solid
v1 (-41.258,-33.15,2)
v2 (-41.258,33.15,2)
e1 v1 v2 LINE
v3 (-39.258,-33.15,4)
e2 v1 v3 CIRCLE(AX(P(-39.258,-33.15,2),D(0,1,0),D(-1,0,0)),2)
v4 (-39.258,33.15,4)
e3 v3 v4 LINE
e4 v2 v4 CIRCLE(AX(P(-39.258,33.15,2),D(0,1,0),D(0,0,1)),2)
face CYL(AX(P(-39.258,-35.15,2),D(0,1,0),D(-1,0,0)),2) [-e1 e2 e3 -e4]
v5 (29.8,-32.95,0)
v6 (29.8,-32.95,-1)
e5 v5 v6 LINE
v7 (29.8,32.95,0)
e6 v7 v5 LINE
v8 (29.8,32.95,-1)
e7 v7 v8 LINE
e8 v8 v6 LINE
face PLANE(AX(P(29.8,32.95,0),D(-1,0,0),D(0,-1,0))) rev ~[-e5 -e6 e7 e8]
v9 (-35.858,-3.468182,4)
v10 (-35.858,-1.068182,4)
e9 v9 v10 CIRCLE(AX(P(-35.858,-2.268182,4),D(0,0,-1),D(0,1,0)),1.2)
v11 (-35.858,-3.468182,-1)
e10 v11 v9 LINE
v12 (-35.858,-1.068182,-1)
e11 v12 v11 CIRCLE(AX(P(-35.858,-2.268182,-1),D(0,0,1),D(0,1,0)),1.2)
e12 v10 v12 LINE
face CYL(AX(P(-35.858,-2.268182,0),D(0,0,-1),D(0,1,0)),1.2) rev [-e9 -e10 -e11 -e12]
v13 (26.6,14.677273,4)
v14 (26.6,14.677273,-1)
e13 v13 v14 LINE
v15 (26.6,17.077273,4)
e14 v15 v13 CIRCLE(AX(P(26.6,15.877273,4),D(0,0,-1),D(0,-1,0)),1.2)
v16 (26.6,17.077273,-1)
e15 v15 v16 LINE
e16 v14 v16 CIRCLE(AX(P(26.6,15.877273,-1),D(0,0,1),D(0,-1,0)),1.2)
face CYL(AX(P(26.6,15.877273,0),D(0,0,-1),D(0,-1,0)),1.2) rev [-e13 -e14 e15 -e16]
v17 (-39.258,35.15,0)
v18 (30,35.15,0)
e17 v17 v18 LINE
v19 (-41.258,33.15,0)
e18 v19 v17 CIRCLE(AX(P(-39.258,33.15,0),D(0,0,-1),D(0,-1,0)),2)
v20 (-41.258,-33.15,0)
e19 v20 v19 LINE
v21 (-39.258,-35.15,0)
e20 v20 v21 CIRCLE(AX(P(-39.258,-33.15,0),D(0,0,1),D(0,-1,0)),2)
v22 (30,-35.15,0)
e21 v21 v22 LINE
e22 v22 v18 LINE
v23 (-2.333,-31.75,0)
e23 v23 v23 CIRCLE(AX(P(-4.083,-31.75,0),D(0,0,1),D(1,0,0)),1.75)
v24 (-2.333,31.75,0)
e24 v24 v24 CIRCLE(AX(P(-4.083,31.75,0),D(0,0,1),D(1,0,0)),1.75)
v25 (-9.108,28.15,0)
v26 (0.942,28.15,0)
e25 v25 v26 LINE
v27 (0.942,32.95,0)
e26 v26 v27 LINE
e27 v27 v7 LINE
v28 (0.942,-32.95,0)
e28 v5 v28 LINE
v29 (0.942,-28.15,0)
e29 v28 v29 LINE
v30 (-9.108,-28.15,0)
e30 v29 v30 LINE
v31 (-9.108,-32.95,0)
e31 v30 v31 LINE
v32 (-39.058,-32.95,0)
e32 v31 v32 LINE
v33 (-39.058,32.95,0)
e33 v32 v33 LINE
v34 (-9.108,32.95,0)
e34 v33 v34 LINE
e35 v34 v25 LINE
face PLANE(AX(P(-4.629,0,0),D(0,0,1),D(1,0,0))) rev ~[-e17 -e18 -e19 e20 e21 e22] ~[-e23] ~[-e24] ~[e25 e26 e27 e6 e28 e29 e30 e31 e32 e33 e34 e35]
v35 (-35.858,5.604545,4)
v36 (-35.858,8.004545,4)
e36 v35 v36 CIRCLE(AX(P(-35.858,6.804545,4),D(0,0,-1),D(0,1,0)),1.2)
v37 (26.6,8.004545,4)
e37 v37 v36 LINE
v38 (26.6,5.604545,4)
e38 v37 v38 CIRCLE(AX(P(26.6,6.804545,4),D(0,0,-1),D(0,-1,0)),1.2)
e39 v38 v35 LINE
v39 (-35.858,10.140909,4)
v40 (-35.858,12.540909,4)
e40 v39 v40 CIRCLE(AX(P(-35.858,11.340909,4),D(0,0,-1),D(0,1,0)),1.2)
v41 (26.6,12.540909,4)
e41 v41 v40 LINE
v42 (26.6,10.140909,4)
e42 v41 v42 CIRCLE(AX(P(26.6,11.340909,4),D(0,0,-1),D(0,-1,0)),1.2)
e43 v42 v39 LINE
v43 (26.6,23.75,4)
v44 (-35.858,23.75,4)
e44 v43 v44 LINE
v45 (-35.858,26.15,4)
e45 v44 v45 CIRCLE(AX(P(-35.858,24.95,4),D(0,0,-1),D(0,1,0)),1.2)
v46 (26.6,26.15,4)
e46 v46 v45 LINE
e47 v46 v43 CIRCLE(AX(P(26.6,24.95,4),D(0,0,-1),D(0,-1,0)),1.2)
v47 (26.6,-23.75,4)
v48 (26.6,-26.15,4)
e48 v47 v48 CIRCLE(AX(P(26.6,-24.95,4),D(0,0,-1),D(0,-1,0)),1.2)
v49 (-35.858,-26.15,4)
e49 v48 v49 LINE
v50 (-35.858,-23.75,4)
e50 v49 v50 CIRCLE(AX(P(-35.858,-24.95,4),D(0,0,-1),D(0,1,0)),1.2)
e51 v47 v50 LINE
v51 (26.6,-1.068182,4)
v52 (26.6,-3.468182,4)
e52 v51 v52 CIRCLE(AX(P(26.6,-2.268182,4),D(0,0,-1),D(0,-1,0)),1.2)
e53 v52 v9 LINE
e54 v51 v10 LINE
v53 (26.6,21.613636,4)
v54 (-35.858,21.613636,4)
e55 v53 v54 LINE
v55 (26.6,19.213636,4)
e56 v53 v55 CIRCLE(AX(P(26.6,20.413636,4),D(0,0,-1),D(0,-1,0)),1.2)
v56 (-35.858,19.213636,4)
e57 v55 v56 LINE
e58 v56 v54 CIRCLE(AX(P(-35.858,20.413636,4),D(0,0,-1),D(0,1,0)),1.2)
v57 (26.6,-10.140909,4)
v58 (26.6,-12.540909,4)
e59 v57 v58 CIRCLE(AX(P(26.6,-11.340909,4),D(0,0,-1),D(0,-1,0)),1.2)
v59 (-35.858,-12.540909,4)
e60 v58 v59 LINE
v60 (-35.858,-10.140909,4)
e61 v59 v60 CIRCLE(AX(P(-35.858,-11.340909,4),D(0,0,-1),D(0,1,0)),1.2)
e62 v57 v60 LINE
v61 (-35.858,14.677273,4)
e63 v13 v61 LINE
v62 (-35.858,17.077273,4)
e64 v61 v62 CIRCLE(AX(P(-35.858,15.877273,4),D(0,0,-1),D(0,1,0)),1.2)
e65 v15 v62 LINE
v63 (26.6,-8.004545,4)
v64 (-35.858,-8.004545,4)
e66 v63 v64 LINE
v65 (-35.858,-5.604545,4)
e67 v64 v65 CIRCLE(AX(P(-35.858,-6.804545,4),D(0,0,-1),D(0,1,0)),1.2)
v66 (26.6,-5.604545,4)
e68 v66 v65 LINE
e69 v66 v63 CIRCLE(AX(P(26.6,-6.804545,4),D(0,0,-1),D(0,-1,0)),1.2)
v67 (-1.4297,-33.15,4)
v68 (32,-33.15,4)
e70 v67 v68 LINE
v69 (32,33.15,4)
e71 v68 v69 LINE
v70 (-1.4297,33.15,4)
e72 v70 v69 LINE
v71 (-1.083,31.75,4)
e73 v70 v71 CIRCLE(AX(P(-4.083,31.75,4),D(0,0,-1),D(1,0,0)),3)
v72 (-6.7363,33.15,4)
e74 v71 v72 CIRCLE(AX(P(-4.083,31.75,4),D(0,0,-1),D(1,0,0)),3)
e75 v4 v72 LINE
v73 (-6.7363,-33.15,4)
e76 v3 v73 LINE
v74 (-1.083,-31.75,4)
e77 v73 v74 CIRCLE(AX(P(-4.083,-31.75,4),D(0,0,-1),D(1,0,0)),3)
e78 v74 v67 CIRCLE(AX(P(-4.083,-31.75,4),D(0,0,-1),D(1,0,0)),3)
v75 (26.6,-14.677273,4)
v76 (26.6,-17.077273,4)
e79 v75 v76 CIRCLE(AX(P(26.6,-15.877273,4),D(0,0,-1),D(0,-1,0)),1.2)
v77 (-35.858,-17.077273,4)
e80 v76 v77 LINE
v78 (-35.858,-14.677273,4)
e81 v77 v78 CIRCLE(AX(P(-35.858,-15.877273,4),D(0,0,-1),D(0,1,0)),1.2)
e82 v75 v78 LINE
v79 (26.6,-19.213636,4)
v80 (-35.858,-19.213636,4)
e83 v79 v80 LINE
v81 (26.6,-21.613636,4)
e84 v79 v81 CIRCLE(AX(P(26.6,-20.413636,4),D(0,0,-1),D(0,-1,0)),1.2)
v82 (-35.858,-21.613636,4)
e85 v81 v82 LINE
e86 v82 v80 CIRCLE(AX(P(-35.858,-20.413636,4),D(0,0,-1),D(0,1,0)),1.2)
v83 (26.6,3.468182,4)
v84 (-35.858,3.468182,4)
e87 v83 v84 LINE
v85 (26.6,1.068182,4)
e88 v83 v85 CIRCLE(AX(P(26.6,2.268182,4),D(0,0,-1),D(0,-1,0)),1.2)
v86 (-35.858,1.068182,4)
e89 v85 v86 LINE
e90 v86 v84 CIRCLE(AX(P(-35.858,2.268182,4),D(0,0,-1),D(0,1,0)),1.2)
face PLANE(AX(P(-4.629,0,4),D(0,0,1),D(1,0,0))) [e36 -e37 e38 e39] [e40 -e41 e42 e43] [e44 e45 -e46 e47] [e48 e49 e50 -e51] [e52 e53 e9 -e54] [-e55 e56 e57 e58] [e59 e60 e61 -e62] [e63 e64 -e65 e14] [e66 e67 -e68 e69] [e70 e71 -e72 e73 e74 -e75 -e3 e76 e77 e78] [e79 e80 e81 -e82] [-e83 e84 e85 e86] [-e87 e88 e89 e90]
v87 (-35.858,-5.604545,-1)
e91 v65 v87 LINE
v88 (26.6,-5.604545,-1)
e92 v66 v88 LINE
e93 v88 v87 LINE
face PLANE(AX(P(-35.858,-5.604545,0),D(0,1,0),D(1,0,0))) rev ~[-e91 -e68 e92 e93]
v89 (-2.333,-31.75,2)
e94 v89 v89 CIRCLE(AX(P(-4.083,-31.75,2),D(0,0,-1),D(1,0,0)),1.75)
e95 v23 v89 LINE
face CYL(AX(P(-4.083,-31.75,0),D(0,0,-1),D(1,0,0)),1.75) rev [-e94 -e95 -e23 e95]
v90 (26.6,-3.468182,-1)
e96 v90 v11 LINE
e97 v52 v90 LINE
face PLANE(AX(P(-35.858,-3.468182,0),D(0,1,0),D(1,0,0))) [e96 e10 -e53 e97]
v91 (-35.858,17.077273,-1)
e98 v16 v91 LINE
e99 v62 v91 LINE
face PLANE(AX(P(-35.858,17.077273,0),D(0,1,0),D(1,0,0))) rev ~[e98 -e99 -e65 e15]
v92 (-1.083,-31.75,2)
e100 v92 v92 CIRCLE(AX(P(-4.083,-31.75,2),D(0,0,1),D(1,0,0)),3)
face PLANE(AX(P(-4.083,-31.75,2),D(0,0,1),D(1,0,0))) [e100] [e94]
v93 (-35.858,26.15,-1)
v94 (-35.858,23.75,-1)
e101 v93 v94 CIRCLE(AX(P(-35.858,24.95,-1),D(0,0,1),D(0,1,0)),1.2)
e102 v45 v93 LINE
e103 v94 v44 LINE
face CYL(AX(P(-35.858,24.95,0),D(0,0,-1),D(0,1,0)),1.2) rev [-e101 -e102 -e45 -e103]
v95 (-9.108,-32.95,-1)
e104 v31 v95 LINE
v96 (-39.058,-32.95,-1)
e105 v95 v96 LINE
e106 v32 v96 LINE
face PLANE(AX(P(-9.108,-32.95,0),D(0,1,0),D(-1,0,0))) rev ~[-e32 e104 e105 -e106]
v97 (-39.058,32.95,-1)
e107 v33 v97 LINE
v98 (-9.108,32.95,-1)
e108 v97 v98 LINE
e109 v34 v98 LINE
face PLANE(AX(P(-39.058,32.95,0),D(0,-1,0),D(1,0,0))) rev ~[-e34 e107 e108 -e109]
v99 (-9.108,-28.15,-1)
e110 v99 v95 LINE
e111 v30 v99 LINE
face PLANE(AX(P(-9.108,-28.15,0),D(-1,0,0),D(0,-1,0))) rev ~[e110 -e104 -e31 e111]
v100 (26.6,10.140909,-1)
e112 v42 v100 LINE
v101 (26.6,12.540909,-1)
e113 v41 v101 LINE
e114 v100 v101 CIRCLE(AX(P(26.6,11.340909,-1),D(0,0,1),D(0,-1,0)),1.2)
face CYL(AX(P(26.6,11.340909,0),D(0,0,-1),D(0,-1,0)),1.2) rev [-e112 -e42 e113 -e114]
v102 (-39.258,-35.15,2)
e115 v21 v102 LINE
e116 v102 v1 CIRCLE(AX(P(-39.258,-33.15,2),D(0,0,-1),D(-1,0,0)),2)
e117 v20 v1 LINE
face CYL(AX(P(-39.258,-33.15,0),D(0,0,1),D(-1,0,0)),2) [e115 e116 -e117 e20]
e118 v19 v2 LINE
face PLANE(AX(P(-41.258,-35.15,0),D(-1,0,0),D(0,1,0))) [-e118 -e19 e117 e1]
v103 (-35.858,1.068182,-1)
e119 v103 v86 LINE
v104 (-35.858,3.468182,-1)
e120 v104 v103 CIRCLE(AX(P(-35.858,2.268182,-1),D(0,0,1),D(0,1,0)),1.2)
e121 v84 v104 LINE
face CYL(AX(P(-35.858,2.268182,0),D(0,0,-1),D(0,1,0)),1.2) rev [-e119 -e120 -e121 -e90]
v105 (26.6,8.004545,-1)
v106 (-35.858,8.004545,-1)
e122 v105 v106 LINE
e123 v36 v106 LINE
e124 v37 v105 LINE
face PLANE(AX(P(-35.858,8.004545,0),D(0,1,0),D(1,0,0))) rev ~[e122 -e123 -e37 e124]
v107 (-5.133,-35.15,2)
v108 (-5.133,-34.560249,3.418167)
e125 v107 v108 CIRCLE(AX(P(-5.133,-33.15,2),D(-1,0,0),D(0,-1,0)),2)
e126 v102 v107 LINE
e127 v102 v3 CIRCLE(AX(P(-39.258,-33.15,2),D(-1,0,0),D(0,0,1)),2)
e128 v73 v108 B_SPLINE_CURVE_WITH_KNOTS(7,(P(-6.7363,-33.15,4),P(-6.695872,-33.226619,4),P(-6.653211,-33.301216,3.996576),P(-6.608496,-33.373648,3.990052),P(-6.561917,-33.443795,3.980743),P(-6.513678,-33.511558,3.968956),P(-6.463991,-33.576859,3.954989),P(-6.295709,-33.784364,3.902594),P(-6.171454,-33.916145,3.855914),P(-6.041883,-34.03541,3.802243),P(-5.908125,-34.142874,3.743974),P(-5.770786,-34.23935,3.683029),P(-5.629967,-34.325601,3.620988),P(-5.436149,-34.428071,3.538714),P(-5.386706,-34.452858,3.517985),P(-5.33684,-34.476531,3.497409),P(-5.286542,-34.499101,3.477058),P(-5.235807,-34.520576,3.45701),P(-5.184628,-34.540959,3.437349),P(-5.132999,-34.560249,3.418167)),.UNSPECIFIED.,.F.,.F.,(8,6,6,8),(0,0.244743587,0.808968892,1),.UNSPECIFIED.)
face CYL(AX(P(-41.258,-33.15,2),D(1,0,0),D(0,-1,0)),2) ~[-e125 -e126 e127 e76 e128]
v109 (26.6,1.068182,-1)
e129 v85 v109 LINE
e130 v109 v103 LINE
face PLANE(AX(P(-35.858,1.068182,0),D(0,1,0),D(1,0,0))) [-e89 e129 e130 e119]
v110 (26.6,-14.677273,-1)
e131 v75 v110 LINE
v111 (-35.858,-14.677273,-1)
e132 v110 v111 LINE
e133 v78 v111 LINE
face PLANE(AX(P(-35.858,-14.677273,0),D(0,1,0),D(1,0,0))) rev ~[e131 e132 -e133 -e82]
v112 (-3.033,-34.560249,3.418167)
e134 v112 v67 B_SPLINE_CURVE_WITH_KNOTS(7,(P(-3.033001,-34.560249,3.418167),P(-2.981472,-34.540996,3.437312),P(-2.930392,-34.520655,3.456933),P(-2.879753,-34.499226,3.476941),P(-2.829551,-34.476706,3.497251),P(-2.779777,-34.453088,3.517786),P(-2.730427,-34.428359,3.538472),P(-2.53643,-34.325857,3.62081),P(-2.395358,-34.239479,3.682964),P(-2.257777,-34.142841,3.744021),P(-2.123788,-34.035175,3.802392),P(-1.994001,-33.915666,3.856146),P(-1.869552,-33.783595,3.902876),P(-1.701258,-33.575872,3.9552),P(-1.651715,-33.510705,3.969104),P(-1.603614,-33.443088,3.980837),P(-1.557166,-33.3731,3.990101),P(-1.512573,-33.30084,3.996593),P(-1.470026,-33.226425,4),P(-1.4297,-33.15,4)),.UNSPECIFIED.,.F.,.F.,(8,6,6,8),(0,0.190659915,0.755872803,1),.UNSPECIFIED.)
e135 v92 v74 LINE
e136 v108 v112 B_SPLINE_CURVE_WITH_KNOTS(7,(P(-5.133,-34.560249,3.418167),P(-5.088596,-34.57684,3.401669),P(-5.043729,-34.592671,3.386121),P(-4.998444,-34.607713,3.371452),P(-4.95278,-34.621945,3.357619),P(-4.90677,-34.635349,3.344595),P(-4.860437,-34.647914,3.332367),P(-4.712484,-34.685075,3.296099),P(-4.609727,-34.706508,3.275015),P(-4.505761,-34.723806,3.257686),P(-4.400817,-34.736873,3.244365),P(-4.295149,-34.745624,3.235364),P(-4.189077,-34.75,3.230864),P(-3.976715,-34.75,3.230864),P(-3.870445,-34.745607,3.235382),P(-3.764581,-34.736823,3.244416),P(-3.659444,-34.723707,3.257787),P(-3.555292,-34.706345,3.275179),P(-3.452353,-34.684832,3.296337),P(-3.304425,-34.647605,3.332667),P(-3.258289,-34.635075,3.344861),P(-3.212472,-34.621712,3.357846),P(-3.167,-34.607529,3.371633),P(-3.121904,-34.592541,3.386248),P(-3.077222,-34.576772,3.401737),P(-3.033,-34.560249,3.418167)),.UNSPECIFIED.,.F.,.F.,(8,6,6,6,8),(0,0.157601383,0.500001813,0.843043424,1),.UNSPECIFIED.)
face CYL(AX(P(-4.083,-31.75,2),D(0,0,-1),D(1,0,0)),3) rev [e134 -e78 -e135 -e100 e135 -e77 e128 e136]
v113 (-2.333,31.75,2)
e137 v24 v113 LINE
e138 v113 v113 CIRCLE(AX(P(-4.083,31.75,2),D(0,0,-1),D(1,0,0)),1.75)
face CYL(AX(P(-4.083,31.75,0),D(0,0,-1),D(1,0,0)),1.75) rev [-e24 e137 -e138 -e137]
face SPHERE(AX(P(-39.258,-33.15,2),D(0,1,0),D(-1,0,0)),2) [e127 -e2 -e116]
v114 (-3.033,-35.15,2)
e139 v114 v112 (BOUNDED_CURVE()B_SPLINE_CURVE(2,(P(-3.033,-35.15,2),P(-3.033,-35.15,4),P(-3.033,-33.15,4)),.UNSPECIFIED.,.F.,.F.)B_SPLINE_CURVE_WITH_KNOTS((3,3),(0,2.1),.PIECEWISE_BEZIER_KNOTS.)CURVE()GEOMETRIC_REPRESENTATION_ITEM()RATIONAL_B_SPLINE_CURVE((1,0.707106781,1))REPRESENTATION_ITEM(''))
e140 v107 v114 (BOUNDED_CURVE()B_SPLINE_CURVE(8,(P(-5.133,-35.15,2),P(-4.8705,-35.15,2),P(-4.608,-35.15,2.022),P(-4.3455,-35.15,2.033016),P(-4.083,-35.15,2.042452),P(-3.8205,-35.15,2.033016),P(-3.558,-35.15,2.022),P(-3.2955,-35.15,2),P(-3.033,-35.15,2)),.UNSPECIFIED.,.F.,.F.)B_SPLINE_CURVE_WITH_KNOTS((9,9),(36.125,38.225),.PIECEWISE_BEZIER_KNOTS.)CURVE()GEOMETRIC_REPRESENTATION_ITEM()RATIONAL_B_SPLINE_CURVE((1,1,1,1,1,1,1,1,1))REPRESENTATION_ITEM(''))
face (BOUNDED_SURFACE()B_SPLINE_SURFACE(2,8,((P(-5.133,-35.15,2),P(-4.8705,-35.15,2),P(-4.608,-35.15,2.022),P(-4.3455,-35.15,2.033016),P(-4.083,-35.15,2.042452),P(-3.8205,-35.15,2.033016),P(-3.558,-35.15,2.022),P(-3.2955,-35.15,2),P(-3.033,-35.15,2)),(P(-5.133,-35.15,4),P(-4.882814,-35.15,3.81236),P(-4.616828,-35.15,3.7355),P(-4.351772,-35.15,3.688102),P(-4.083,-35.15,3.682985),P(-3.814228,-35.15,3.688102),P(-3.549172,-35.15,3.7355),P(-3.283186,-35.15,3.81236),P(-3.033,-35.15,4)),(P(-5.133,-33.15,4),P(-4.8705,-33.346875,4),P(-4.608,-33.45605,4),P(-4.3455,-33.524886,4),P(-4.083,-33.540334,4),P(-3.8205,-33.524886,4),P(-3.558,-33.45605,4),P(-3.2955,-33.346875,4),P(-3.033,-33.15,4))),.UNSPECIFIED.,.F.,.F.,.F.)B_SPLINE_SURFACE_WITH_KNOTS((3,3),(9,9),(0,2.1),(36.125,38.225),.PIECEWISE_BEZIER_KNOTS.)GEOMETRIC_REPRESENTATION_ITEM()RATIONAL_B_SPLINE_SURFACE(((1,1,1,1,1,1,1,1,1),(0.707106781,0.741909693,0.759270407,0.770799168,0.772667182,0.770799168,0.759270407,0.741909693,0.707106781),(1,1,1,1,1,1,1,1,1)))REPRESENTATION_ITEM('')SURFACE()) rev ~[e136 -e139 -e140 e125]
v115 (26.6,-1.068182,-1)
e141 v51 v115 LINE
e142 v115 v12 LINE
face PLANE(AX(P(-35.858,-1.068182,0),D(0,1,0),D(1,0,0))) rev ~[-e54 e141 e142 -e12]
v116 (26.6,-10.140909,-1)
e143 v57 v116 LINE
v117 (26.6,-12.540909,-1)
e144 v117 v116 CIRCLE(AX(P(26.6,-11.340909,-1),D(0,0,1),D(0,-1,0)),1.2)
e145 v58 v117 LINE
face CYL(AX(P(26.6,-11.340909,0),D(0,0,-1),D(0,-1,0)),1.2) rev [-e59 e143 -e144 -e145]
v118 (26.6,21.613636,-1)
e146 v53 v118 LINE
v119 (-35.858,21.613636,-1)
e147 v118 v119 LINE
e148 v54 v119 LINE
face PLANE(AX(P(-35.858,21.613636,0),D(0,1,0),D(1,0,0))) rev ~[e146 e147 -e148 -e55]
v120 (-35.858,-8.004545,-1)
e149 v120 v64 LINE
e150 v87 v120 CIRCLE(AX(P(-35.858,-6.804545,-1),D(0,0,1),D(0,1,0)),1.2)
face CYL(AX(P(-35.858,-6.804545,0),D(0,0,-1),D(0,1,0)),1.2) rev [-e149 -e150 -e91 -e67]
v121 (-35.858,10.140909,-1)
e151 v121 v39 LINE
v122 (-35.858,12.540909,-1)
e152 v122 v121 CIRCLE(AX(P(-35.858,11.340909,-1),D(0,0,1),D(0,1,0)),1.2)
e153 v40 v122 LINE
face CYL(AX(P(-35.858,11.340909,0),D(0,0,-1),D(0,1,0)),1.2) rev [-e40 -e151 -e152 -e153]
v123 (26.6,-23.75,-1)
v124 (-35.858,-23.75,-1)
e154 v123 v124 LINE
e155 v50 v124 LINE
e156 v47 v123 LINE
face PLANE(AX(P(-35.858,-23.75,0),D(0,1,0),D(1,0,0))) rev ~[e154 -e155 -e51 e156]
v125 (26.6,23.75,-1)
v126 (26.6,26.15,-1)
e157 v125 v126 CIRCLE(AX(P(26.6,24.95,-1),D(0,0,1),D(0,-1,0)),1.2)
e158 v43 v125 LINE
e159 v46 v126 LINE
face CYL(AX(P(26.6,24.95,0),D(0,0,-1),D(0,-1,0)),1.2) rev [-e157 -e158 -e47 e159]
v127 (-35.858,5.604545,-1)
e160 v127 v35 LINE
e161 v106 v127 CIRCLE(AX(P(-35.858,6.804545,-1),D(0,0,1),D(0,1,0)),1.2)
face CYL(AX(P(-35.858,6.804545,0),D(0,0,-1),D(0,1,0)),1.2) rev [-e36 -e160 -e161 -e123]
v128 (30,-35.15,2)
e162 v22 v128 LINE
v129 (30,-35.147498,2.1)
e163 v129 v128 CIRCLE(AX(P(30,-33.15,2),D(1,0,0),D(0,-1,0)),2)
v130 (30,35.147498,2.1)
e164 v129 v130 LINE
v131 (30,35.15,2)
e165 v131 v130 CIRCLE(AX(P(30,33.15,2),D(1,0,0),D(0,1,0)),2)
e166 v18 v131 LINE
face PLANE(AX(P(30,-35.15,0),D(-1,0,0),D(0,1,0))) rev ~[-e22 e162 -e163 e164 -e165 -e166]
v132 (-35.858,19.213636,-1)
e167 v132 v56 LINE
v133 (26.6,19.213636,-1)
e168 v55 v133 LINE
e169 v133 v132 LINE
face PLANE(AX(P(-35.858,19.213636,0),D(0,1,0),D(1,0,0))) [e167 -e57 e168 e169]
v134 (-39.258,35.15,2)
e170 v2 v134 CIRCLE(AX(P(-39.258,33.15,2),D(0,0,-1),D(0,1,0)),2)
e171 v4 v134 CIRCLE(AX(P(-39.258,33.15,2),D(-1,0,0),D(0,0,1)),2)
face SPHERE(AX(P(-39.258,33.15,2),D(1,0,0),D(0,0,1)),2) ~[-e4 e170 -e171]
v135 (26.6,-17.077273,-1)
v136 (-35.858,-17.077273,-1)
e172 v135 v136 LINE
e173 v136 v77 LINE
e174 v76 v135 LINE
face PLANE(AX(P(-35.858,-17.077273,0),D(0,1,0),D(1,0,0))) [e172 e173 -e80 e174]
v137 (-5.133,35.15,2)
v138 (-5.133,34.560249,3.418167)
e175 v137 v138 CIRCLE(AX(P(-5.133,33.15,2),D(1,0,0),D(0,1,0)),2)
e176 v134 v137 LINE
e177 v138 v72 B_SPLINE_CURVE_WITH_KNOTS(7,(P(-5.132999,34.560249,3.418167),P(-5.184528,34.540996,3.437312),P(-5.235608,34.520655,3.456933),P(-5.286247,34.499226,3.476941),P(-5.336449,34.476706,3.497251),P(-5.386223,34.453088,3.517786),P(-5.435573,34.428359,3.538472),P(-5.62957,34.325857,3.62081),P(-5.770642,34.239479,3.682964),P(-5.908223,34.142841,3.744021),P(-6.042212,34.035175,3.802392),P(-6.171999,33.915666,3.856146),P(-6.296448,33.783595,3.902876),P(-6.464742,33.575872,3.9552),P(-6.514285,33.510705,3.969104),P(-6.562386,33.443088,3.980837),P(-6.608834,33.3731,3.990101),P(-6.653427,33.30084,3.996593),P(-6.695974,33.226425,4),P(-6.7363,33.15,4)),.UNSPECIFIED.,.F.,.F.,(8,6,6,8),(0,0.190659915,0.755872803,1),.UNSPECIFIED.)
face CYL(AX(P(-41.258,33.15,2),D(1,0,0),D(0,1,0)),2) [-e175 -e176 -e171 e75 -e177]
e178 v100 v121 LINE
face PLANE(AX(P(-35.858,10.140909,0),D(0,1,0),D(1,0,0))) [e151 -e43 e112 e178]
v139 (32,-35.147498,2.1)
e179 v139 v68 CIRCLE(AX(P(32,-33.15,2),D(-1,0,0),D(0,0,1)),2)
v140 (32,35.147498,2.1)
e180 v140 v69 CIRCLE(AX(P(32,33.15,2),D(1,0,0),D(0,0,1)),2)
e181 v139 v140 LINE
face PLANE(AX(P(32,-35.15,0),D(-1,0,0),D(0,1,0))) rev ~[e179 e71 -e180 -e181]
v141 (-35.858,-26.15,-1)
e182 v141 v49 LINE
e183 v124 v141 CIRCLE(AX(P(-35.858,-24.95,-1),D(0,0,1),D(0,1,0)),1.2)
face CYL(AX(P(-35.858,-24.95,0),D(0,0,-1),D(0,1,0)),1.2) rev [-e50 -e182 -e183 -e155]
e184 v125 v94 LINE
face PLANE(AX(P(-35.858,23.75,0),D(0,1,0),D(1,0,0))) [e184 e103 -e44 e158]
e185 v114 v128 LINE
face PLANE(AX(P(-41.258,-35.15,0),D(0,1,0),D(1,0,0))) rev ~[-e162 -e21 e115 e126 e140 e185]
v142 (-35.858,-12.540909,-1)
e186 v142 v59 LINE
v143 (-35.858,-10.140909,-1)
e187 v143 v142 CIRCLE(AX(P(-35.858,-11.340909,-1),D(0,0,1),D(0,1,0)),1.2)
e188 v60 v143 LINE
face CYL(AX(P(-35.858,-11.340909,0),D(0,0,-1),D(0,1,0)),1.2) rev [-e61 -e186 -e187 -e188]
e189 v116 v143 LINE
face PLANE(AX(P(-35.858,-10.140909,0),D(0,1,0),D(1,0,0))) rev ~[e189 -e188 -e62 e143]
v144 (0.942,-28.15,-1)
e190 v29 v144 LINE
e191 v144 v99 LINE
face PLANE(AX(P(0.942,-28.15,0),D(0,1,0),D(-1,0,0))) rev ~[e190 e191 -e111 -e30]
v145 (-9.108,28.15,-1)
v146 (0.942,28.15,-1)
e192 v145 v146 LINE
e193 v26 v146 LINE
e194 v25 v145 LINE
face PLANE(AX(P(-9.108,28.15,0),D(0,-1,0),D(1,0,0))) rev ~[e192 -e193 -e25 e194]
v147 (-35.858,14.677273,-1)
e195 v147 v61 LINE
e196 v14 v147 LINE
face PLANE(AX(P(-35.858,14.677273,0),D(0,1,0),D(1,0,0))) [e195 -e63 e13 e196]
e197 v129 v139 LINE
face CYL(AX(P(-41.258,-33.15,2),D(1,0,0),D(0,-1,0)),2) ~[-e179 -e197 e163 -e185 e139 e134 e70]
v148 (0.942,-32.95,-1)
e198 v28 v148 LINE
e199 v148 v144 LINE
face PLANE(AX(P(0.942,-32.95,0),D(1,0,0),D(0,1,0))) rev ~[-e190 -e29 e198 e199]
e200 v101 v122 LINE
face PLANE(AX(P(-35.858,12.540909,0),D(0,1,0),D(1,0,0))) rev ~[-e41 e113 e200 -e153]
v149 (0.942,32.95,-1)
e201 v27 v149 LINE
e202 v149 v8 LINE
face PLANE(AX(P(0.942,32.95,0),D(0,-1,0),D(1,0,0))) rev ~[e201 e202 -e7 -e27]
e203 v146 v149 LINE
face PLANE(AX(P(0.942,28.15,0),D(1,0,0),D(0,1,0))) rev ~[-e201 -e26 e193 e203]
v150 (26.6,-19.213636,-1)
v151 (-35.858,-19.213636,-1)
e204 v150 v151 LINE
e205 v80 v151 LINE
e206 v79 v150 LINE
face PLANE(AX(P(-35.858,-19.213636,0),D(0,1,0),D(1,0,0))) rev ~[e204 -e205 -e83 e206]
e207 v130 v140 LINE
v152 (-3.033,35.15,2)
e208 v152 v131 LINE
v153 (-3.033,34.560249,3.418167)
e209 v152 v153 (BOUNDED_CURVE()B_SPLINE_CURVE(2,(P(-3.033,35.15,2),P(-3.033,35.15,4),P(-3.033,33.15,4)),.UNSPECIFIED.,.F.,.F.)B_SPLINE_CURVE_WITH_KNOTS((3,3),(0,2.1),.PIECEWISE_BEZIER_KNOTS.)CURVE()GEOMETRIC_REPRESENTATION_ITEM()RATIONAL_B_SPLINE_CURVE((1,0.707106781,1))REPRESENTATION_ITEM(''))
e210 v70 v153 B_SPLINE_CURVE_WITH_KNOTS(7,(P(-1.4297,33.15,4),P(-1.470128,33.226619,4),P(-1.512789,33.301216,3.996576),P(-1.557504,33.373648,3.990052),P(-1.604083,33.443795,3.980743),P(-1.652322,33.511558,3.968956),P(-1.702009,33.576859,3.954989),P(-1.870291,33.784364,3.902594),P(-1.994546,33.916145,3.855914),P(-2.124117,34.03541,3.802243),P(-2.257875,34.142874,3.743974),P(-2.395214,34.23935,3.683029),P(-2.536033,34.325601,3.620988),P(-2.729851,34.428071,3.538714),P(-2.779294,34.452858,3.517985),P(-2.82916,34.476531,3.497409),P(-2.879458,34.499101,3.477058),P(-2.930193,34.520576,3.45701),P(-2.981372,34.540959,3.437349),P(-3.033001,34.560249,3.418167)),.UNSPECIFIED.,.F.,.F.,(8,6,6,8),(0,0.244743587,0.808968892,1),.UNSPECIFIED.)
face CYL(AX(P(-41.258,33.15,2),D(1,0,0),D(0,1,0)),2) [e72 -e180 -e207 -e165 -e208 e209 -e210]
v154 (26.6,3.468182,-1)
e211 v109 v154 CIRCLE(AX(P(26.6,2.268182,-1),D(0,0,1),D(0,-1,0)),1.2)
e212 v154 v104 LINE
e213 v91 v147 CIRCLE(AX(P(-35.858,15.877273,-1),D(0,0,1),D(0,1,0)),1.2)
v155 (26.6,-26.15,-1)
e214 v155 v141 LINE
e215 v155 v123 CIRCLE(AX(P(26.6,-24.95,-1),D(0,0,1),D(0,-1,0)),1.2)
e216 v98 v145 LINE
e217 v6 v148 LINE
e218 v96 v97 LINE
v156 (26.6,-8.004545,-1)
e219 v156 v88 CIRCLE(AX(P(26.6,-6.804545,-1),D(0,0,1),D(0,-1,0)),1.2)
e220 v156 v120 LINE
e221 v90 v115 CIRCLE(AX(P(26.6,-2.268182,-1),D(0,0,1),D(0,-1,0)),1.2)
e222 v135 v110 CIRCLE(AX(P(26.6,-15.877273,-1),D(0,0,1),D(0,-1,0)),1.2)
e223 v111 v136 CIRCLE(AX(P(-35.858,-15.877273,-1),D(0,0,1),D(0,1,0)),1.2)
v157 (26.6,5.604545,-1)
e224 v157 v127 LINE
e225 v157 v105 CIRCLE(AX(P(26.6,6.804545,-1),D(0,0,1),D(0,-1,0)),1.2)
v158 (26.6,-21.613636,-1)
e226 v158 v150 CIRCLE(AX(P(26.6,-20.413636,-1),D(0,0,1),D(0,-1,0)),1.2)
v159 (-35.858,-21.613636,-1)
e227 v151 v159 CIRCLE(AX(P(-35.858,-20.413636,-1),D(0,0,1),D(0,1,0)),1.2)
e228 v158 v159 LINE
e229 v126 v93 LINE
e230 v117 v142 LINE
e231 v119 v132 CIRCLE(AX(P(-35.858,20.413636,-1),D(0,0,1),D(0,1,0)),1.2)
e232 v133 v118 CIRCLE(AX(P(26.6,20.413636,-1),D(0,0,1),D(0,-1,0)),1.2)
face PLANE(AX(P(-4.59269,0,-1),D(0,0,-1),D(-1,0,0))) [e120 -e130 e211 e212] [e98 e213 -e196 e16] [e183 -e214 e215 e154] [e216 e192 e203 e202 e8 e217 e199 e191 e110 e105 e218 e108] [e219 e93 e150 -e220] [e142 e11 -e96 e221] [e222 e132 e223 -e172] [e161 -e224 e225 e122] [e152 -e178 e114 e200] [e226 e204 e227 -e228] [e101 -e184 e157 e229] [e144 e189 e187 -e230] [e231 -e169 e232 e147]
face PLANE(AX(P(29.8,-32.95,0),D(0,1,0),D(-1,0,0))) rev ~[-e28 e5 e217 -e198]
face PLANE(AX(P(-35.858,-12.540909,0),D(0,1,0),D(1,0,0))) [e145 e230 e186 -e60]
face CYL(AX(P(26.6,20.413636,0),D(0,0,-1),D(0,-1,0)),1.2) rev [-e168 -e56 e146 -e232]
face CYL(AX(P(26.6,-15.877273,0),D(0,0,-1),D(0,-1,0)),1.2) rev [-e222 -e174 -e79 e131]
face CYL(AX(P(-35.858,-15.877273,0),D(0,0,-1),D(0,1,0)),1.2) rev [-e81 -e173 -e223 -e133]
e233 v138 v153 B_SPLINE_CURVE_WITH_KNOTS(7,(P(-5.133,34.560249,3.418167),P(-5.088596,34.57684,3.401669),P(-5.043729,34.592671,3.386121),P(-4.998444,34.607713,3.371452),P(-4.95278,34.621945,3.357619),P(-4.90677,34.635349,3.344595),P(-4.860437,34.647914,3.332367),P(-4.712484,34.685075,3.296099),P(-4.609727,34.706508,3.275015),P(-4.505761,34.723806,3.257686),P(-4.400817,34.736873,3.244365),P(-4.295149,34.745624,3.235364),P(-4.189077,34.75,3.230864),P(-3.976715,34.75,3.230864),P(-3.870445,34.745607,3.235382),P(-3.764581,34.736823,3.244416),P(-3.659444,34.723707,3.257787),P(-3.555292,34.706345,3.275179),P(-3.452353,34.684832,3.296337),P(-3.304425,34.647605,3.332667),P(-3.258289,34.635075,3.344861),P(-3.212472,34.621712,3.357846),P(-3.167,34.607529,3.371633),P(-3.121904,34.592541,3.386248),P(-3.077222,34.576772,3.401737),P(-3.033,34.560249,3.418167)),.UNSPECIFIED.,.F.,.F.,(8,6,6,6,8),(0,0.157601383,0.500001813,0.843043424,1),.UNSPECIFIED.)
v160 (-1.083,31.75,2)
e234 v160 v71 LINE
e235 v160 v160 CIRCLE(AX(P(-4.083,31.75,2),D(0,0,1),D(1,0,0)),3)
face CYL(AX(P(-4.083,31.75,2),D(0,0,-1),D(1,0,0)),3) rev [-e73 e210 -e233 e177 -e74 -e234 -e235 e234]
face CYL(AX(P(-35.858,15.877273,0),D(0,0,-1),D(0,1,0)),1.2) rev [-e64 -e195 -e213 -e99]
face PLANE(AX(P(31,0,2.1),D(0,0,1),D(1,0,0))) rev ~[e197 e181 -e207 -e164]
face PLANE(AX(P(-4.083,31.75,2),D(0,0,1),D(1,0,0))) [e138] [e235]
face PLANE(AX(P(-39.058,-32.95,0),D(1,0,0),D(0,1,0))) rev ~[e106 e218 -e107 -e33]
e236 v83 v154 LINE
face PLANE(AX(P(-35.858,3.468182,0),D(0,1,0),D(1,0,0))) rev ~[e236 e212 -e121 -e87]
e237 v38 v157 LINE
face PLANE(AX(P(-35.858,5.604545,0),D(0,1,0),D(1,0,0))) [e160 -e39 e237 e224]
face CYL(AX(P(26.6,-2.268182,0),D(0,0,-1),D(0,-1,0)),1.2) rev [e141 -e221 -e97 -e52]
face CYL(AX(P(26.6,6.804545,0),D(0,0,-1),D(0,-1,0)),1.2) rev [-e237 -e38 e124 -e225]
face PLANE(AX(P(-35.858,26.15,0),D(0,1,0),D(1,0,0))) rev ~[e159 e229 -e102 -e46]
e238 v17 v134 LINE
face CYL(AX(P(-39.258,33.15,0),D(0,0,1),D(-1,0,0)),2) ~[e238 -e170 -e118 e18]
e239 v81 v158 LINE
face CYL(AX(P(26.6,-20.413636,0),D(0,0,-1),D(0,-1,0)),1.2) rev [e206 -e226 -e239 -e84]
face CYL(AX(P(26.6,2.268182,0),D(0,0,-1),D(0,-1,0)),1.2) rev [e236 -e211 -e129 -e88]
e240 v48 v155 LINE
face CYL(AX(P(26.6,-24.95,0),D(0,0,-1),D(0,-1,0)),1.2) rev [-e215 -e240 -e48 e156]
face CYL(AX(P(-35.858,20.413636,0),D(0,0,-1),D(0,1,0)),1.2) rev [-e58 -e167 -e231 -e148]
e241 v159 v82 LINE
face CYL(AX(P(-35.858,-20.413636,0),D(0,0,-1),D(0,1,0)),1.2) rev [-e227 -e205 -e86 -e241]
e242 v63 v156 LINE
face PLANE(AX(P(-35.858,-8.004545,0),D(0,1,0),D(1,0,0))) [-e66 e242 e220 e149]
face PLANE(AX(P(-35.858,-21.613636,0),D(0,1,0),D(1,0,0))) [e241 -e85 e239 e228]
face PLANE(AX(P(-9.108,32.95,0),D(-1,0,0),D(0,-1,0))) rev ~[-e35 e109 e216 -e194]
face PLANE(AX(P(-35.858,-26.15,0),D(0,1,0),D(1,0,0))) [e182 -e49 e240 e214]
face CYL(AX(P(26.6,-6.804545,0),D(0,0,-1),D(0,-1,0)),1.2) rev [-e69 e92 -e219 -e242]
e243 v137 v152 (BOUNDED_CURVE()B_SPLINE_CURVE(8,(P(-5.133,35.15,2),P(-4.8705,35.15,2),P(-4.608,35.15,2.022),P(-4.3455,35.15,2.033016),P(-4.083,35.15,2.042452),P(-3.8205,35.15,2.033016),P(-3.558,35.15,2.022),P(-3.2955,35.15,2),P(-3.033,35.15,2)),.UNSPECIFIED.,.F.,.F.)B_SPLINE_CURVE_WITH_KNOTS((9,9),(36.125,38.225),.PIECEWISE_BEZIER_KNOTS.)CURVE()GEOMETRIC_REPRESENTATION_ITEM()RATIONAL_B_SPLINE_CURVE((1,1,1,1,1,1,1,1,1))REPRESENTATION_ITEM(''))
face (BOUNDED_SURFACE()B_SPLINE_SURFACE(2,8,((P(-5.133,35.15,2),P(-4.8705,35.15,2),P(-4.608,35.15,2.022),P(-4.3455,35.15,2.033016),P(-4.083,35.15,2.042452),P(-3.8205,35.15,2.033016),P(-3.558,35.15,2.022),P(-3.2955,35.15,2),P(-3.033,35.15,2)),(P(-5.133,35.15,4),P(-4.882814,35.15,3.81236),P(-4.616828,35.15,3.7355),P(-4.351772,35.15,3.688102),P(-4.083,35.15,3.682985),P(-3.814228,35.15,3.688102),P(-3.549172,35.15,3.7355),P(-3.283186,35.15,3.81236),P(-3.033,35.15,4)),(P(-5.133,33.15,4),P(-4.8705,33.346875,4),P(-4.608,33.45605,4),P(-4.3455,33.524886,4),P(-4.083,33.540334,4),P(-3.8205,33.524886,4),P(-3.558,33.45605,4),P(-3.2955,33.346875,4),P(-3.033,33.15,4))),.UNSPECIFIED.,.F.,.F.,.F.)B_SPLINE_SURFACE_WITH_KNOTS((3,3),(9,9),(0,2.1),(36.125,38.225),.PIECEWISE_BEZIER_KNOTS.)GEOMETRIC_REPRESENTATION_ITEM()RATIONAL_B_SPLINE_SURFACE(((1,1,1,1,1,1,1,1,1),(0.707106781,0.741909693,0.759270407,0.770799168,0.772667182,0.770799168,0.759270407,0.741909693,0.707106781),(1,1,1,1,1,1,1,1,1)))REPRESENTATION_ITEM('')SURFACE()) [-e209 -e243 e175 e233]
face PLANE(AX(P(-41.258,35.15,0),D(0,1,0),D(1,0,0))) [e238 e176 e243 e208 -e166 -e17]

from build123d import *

# Parameters (mm, degrees)
SKETCH141_W          = 73.258
SKETCH141_H          = 70.3
SKETCH141_R          = 1.75
PAD050_DEPTH         = 4
FILLET012_R          = 2
SKETCH142_W          = 2
SKETCH142_H          = 70.3
POCKET059_DEPTH      = 2.1
SKETCH143_R          = 3
POCKET060_DEPTH      = 2.001
PAD051_DEPTH         = 1
POCKET061_DEPTH      = 1.001
POCKET061_DEPTH_BACK = 4.001


with BuildPart() as part:
    # Sketch141 → Pad050 (new body)
    with BuildSketch(Plane.XY):
        with Locations((-4.629, 0)):
            Rectangle(SKETCH141_W, SKETCH141_H)
        with Locations((-4.083, 31.75)):
            Circle(SKETCH141_R, mode=Mode.SUBTRACT)
        with Locations((-4.083, -31.75)):
            Circle(SKETCH141_R, mode=Mode.SUBTRACT)
    extrude(amount=PAD050_DEPTH)

    # Fillet012
    fillet012_edges = [part.edges().sort_by_distance(p)[0] for p in [
        (-4.629, 35.15, 4),
        (-41.258, 0, 4),
        (-41.258, 35.15, 2),
        (-41.258, -35.15, 2),
        (-4.629, -35.15, 4),
    ]]
    fillet(fillet012_edges, radius=FILLET012_R)

    # Sketch142 → Pocket059 (cut)
    with BuildSketch(Plane.XY):
        with Locations((31, 0)):
            Rectangle(SKETCH142_W, SKETCH142_H)
    extrude(amount=POCKET059_DEPTH, mode=Mode.SUBTRACT)

    # Sketch143 → Pocket060 (cut, through all)
    with BuildSketch(Plane.XY.offset(2)):
        with Locations((-4.083, 31.75)):
            Circle(SKETCH143_R)
        with Locations((-4.083, -31.75)):
            Circle(SKETCH143_R)
    extrude(amount=POCKET060_DEPTH, mode=Mode.SUBTRACT)

    # Sketch144 → Pad051 (join)
    with BuildSketch(Plane.XY):
        Polygon((-39.058, 32.95), (-9.108, 32.95), (-9.108, 28.15), (0.942, 28.15), (0.942, 32.95), (29.8, 32.95), (29.8, -32.95), (0.942, -32.95), (0.942, -28.15), (-9.108, -28.15), (-9.108, -32.95), (-39.058, -32.95), align=None)
    extrude(amount=-PAD051_DEPTH)

    # Sketch145 → Pocket061 (cut, two sides)
    with BuildSketch(Plane.XY) as pocket061_sk:
        with BuildLine():
            ThreePointArc((-35.858, 26.15), (-37.058, 24.95), (-35.858, 23.75))
            Line((-35.858, 23.75), (26.6, 23.75))
            ThreePointArc((26.6, 23.75), (27.8, 24.95), (26.6, 26.15))
            Line((-35.858, 26.15), (26.6, 26.15))
        make_face()
        with BuildLine():
            ThreePointArc((-35.858, 21.613636), (-37.058, 20.413636), (-35.858, 19.213636))
            Line((-35.858, 19.213636), (26.6, 19.213636))
            ThreePointArc((26.6, 19.213636), (27.8, 20.413636), (26.6, 21.613636))
            Line((-35.858, 21.613636), (26.6, 21.613636))
        make_face()
        with BuildLine():
            ThreePointArc((-35.858, 17.077273), (-37.058, 15.877273), (-35.858, 14.677273))
            Line((-35.858, 14.677273), (26.6, 14.677273))
            ThreePointArc((26.6, 14.677273), (27.8, 15.877273), (26.6, 17.077273))
            Line((-35.858, 17.077273), (26.6, 17.077273))
        make_face()
        with BuildLine():
            ThreePointArc((-35.858, 12.540909), (-37.058, 11.340909), (-35.858, 10.140909))
            Line((-35.858, 10.140909), (26.6, 10.140909))
            ThreePointArc((26.6, 10.140909), (27.8, 11.340909), (26.6, 12.540909))
            Line((-35.858, 12.540909), (26.6, 12.540909))
        make_face()
        with BuildLine():
            ThreePointArc((-35.858, 8.004545), (-37.058, 6.804545), (-35.858, 5.604545))
            Line((-35.858, 5.604545), (26.6, 5.604545))
            ThreePointArc((26.6, 5.604545), (27.8, 6.804545), (26.6, 8.004545))
            Line((-35.858, 8.004545), (26.6, 8.004545))
        make_face()
        with BuildLine():
            ThreePointArc((-35.858, 3.468182), (-37.058, 2.268182), (-35.858, 1.068182))
            Line((-35.858, 1.068182), (26.6, 1.068182))
            ThreePointArc((26.6, 1.068182), (27.8, 2.268182), (26.6, 3.468182))
            Line((-35.858, 3.468182), (26.6, 3.468182))
        make_face()
        with BuildLine():
            ThreePointArc((-35.858, -1.068182), (-37.058, -2.268182), (-35.858, -3.468182))
            Line((-35.858, -3.468182), (26.6, -3.468182))
            ThreePointArc((26.6, -3.468182), (27.8, -2.268182), (26.6, -1.068182))
            Line((-35.858, -1.068182), (26.6, -1.068182))
        make_face()
        with BuildLine():
            ThreePointArc((-35.858, -5.604545), (-37.058, -6.804545), (-35.858, -8.004545))
            Line((-35.858, -8.004545), (26.6, -8.004545))
            ThreePointArc((26.6, -8.004545), (27.8, -6.804545), (26.6, -5.604545))
            Line((-35.858, -5.604545), (26.6, -5.604545))
        make_face()
        with BuildLine():
            ThreePointArc((-35.858, -10.140909), (-37.058, -11.340909), (-35.858, -12.540909))
            Line((-35.858, -12.540909), (26.6, -12.540909))
            ThreePointArc((26.6, -12.540909), (27.8, -11.340909), (26.6, -10.140909))
            Line((-35.858, -10.140909), (26.6, -10.140909))
        make_face()
        with BuildLine():
            ThreePointArc((-35.858, -14.677273), (-37.058, -15.877273), (-35.858, -17.077273))
            Line((-35.858, -17.077273), (26.6, -17.077273))
            ThreePointArc((26.6, -17.077273), (27.8, -15.877273), (26.6, -14.677273))
            Line((-35.858, -14.677273), (26.6, -14.677273))
        make_face()
        with BuildLine():
            ThreePointArc((-35.858, -19.213636), (-37.058, -20.413636), (-35.858, -21.613636))
            Line((-35.858, -21.613636), (26.6, -21.613636))
            ThreePointArc((26.6, -21.613636), (27.8, -20.413636), (26.6, -19.213636))
            Line((-35.858, -19.213636), (26.6, -19.213636))
        make_face()
        with BuildLine():
            ThreePointArc((-35.858, -23.75), (-37.058, -24.95), (-35.858, -26.15))
            Line((-35.858, -26.15), (26.6, -26.15))
            ThreePointArc((26.6, -26.15), (27.8, -24.95), (26.6, -23.75))
            Line((-35.858, -23.75), (26.6, -23.75))
        make_face()
    extrude(amount=-POCKET061_DEPTH, mode=Mode.SUBTRACT)
    extrude(pocket061_sk.sketch, amount=POCKET061_DEPTH_BACK, mode=Mode.SUBTRACT)


solid = part.part
